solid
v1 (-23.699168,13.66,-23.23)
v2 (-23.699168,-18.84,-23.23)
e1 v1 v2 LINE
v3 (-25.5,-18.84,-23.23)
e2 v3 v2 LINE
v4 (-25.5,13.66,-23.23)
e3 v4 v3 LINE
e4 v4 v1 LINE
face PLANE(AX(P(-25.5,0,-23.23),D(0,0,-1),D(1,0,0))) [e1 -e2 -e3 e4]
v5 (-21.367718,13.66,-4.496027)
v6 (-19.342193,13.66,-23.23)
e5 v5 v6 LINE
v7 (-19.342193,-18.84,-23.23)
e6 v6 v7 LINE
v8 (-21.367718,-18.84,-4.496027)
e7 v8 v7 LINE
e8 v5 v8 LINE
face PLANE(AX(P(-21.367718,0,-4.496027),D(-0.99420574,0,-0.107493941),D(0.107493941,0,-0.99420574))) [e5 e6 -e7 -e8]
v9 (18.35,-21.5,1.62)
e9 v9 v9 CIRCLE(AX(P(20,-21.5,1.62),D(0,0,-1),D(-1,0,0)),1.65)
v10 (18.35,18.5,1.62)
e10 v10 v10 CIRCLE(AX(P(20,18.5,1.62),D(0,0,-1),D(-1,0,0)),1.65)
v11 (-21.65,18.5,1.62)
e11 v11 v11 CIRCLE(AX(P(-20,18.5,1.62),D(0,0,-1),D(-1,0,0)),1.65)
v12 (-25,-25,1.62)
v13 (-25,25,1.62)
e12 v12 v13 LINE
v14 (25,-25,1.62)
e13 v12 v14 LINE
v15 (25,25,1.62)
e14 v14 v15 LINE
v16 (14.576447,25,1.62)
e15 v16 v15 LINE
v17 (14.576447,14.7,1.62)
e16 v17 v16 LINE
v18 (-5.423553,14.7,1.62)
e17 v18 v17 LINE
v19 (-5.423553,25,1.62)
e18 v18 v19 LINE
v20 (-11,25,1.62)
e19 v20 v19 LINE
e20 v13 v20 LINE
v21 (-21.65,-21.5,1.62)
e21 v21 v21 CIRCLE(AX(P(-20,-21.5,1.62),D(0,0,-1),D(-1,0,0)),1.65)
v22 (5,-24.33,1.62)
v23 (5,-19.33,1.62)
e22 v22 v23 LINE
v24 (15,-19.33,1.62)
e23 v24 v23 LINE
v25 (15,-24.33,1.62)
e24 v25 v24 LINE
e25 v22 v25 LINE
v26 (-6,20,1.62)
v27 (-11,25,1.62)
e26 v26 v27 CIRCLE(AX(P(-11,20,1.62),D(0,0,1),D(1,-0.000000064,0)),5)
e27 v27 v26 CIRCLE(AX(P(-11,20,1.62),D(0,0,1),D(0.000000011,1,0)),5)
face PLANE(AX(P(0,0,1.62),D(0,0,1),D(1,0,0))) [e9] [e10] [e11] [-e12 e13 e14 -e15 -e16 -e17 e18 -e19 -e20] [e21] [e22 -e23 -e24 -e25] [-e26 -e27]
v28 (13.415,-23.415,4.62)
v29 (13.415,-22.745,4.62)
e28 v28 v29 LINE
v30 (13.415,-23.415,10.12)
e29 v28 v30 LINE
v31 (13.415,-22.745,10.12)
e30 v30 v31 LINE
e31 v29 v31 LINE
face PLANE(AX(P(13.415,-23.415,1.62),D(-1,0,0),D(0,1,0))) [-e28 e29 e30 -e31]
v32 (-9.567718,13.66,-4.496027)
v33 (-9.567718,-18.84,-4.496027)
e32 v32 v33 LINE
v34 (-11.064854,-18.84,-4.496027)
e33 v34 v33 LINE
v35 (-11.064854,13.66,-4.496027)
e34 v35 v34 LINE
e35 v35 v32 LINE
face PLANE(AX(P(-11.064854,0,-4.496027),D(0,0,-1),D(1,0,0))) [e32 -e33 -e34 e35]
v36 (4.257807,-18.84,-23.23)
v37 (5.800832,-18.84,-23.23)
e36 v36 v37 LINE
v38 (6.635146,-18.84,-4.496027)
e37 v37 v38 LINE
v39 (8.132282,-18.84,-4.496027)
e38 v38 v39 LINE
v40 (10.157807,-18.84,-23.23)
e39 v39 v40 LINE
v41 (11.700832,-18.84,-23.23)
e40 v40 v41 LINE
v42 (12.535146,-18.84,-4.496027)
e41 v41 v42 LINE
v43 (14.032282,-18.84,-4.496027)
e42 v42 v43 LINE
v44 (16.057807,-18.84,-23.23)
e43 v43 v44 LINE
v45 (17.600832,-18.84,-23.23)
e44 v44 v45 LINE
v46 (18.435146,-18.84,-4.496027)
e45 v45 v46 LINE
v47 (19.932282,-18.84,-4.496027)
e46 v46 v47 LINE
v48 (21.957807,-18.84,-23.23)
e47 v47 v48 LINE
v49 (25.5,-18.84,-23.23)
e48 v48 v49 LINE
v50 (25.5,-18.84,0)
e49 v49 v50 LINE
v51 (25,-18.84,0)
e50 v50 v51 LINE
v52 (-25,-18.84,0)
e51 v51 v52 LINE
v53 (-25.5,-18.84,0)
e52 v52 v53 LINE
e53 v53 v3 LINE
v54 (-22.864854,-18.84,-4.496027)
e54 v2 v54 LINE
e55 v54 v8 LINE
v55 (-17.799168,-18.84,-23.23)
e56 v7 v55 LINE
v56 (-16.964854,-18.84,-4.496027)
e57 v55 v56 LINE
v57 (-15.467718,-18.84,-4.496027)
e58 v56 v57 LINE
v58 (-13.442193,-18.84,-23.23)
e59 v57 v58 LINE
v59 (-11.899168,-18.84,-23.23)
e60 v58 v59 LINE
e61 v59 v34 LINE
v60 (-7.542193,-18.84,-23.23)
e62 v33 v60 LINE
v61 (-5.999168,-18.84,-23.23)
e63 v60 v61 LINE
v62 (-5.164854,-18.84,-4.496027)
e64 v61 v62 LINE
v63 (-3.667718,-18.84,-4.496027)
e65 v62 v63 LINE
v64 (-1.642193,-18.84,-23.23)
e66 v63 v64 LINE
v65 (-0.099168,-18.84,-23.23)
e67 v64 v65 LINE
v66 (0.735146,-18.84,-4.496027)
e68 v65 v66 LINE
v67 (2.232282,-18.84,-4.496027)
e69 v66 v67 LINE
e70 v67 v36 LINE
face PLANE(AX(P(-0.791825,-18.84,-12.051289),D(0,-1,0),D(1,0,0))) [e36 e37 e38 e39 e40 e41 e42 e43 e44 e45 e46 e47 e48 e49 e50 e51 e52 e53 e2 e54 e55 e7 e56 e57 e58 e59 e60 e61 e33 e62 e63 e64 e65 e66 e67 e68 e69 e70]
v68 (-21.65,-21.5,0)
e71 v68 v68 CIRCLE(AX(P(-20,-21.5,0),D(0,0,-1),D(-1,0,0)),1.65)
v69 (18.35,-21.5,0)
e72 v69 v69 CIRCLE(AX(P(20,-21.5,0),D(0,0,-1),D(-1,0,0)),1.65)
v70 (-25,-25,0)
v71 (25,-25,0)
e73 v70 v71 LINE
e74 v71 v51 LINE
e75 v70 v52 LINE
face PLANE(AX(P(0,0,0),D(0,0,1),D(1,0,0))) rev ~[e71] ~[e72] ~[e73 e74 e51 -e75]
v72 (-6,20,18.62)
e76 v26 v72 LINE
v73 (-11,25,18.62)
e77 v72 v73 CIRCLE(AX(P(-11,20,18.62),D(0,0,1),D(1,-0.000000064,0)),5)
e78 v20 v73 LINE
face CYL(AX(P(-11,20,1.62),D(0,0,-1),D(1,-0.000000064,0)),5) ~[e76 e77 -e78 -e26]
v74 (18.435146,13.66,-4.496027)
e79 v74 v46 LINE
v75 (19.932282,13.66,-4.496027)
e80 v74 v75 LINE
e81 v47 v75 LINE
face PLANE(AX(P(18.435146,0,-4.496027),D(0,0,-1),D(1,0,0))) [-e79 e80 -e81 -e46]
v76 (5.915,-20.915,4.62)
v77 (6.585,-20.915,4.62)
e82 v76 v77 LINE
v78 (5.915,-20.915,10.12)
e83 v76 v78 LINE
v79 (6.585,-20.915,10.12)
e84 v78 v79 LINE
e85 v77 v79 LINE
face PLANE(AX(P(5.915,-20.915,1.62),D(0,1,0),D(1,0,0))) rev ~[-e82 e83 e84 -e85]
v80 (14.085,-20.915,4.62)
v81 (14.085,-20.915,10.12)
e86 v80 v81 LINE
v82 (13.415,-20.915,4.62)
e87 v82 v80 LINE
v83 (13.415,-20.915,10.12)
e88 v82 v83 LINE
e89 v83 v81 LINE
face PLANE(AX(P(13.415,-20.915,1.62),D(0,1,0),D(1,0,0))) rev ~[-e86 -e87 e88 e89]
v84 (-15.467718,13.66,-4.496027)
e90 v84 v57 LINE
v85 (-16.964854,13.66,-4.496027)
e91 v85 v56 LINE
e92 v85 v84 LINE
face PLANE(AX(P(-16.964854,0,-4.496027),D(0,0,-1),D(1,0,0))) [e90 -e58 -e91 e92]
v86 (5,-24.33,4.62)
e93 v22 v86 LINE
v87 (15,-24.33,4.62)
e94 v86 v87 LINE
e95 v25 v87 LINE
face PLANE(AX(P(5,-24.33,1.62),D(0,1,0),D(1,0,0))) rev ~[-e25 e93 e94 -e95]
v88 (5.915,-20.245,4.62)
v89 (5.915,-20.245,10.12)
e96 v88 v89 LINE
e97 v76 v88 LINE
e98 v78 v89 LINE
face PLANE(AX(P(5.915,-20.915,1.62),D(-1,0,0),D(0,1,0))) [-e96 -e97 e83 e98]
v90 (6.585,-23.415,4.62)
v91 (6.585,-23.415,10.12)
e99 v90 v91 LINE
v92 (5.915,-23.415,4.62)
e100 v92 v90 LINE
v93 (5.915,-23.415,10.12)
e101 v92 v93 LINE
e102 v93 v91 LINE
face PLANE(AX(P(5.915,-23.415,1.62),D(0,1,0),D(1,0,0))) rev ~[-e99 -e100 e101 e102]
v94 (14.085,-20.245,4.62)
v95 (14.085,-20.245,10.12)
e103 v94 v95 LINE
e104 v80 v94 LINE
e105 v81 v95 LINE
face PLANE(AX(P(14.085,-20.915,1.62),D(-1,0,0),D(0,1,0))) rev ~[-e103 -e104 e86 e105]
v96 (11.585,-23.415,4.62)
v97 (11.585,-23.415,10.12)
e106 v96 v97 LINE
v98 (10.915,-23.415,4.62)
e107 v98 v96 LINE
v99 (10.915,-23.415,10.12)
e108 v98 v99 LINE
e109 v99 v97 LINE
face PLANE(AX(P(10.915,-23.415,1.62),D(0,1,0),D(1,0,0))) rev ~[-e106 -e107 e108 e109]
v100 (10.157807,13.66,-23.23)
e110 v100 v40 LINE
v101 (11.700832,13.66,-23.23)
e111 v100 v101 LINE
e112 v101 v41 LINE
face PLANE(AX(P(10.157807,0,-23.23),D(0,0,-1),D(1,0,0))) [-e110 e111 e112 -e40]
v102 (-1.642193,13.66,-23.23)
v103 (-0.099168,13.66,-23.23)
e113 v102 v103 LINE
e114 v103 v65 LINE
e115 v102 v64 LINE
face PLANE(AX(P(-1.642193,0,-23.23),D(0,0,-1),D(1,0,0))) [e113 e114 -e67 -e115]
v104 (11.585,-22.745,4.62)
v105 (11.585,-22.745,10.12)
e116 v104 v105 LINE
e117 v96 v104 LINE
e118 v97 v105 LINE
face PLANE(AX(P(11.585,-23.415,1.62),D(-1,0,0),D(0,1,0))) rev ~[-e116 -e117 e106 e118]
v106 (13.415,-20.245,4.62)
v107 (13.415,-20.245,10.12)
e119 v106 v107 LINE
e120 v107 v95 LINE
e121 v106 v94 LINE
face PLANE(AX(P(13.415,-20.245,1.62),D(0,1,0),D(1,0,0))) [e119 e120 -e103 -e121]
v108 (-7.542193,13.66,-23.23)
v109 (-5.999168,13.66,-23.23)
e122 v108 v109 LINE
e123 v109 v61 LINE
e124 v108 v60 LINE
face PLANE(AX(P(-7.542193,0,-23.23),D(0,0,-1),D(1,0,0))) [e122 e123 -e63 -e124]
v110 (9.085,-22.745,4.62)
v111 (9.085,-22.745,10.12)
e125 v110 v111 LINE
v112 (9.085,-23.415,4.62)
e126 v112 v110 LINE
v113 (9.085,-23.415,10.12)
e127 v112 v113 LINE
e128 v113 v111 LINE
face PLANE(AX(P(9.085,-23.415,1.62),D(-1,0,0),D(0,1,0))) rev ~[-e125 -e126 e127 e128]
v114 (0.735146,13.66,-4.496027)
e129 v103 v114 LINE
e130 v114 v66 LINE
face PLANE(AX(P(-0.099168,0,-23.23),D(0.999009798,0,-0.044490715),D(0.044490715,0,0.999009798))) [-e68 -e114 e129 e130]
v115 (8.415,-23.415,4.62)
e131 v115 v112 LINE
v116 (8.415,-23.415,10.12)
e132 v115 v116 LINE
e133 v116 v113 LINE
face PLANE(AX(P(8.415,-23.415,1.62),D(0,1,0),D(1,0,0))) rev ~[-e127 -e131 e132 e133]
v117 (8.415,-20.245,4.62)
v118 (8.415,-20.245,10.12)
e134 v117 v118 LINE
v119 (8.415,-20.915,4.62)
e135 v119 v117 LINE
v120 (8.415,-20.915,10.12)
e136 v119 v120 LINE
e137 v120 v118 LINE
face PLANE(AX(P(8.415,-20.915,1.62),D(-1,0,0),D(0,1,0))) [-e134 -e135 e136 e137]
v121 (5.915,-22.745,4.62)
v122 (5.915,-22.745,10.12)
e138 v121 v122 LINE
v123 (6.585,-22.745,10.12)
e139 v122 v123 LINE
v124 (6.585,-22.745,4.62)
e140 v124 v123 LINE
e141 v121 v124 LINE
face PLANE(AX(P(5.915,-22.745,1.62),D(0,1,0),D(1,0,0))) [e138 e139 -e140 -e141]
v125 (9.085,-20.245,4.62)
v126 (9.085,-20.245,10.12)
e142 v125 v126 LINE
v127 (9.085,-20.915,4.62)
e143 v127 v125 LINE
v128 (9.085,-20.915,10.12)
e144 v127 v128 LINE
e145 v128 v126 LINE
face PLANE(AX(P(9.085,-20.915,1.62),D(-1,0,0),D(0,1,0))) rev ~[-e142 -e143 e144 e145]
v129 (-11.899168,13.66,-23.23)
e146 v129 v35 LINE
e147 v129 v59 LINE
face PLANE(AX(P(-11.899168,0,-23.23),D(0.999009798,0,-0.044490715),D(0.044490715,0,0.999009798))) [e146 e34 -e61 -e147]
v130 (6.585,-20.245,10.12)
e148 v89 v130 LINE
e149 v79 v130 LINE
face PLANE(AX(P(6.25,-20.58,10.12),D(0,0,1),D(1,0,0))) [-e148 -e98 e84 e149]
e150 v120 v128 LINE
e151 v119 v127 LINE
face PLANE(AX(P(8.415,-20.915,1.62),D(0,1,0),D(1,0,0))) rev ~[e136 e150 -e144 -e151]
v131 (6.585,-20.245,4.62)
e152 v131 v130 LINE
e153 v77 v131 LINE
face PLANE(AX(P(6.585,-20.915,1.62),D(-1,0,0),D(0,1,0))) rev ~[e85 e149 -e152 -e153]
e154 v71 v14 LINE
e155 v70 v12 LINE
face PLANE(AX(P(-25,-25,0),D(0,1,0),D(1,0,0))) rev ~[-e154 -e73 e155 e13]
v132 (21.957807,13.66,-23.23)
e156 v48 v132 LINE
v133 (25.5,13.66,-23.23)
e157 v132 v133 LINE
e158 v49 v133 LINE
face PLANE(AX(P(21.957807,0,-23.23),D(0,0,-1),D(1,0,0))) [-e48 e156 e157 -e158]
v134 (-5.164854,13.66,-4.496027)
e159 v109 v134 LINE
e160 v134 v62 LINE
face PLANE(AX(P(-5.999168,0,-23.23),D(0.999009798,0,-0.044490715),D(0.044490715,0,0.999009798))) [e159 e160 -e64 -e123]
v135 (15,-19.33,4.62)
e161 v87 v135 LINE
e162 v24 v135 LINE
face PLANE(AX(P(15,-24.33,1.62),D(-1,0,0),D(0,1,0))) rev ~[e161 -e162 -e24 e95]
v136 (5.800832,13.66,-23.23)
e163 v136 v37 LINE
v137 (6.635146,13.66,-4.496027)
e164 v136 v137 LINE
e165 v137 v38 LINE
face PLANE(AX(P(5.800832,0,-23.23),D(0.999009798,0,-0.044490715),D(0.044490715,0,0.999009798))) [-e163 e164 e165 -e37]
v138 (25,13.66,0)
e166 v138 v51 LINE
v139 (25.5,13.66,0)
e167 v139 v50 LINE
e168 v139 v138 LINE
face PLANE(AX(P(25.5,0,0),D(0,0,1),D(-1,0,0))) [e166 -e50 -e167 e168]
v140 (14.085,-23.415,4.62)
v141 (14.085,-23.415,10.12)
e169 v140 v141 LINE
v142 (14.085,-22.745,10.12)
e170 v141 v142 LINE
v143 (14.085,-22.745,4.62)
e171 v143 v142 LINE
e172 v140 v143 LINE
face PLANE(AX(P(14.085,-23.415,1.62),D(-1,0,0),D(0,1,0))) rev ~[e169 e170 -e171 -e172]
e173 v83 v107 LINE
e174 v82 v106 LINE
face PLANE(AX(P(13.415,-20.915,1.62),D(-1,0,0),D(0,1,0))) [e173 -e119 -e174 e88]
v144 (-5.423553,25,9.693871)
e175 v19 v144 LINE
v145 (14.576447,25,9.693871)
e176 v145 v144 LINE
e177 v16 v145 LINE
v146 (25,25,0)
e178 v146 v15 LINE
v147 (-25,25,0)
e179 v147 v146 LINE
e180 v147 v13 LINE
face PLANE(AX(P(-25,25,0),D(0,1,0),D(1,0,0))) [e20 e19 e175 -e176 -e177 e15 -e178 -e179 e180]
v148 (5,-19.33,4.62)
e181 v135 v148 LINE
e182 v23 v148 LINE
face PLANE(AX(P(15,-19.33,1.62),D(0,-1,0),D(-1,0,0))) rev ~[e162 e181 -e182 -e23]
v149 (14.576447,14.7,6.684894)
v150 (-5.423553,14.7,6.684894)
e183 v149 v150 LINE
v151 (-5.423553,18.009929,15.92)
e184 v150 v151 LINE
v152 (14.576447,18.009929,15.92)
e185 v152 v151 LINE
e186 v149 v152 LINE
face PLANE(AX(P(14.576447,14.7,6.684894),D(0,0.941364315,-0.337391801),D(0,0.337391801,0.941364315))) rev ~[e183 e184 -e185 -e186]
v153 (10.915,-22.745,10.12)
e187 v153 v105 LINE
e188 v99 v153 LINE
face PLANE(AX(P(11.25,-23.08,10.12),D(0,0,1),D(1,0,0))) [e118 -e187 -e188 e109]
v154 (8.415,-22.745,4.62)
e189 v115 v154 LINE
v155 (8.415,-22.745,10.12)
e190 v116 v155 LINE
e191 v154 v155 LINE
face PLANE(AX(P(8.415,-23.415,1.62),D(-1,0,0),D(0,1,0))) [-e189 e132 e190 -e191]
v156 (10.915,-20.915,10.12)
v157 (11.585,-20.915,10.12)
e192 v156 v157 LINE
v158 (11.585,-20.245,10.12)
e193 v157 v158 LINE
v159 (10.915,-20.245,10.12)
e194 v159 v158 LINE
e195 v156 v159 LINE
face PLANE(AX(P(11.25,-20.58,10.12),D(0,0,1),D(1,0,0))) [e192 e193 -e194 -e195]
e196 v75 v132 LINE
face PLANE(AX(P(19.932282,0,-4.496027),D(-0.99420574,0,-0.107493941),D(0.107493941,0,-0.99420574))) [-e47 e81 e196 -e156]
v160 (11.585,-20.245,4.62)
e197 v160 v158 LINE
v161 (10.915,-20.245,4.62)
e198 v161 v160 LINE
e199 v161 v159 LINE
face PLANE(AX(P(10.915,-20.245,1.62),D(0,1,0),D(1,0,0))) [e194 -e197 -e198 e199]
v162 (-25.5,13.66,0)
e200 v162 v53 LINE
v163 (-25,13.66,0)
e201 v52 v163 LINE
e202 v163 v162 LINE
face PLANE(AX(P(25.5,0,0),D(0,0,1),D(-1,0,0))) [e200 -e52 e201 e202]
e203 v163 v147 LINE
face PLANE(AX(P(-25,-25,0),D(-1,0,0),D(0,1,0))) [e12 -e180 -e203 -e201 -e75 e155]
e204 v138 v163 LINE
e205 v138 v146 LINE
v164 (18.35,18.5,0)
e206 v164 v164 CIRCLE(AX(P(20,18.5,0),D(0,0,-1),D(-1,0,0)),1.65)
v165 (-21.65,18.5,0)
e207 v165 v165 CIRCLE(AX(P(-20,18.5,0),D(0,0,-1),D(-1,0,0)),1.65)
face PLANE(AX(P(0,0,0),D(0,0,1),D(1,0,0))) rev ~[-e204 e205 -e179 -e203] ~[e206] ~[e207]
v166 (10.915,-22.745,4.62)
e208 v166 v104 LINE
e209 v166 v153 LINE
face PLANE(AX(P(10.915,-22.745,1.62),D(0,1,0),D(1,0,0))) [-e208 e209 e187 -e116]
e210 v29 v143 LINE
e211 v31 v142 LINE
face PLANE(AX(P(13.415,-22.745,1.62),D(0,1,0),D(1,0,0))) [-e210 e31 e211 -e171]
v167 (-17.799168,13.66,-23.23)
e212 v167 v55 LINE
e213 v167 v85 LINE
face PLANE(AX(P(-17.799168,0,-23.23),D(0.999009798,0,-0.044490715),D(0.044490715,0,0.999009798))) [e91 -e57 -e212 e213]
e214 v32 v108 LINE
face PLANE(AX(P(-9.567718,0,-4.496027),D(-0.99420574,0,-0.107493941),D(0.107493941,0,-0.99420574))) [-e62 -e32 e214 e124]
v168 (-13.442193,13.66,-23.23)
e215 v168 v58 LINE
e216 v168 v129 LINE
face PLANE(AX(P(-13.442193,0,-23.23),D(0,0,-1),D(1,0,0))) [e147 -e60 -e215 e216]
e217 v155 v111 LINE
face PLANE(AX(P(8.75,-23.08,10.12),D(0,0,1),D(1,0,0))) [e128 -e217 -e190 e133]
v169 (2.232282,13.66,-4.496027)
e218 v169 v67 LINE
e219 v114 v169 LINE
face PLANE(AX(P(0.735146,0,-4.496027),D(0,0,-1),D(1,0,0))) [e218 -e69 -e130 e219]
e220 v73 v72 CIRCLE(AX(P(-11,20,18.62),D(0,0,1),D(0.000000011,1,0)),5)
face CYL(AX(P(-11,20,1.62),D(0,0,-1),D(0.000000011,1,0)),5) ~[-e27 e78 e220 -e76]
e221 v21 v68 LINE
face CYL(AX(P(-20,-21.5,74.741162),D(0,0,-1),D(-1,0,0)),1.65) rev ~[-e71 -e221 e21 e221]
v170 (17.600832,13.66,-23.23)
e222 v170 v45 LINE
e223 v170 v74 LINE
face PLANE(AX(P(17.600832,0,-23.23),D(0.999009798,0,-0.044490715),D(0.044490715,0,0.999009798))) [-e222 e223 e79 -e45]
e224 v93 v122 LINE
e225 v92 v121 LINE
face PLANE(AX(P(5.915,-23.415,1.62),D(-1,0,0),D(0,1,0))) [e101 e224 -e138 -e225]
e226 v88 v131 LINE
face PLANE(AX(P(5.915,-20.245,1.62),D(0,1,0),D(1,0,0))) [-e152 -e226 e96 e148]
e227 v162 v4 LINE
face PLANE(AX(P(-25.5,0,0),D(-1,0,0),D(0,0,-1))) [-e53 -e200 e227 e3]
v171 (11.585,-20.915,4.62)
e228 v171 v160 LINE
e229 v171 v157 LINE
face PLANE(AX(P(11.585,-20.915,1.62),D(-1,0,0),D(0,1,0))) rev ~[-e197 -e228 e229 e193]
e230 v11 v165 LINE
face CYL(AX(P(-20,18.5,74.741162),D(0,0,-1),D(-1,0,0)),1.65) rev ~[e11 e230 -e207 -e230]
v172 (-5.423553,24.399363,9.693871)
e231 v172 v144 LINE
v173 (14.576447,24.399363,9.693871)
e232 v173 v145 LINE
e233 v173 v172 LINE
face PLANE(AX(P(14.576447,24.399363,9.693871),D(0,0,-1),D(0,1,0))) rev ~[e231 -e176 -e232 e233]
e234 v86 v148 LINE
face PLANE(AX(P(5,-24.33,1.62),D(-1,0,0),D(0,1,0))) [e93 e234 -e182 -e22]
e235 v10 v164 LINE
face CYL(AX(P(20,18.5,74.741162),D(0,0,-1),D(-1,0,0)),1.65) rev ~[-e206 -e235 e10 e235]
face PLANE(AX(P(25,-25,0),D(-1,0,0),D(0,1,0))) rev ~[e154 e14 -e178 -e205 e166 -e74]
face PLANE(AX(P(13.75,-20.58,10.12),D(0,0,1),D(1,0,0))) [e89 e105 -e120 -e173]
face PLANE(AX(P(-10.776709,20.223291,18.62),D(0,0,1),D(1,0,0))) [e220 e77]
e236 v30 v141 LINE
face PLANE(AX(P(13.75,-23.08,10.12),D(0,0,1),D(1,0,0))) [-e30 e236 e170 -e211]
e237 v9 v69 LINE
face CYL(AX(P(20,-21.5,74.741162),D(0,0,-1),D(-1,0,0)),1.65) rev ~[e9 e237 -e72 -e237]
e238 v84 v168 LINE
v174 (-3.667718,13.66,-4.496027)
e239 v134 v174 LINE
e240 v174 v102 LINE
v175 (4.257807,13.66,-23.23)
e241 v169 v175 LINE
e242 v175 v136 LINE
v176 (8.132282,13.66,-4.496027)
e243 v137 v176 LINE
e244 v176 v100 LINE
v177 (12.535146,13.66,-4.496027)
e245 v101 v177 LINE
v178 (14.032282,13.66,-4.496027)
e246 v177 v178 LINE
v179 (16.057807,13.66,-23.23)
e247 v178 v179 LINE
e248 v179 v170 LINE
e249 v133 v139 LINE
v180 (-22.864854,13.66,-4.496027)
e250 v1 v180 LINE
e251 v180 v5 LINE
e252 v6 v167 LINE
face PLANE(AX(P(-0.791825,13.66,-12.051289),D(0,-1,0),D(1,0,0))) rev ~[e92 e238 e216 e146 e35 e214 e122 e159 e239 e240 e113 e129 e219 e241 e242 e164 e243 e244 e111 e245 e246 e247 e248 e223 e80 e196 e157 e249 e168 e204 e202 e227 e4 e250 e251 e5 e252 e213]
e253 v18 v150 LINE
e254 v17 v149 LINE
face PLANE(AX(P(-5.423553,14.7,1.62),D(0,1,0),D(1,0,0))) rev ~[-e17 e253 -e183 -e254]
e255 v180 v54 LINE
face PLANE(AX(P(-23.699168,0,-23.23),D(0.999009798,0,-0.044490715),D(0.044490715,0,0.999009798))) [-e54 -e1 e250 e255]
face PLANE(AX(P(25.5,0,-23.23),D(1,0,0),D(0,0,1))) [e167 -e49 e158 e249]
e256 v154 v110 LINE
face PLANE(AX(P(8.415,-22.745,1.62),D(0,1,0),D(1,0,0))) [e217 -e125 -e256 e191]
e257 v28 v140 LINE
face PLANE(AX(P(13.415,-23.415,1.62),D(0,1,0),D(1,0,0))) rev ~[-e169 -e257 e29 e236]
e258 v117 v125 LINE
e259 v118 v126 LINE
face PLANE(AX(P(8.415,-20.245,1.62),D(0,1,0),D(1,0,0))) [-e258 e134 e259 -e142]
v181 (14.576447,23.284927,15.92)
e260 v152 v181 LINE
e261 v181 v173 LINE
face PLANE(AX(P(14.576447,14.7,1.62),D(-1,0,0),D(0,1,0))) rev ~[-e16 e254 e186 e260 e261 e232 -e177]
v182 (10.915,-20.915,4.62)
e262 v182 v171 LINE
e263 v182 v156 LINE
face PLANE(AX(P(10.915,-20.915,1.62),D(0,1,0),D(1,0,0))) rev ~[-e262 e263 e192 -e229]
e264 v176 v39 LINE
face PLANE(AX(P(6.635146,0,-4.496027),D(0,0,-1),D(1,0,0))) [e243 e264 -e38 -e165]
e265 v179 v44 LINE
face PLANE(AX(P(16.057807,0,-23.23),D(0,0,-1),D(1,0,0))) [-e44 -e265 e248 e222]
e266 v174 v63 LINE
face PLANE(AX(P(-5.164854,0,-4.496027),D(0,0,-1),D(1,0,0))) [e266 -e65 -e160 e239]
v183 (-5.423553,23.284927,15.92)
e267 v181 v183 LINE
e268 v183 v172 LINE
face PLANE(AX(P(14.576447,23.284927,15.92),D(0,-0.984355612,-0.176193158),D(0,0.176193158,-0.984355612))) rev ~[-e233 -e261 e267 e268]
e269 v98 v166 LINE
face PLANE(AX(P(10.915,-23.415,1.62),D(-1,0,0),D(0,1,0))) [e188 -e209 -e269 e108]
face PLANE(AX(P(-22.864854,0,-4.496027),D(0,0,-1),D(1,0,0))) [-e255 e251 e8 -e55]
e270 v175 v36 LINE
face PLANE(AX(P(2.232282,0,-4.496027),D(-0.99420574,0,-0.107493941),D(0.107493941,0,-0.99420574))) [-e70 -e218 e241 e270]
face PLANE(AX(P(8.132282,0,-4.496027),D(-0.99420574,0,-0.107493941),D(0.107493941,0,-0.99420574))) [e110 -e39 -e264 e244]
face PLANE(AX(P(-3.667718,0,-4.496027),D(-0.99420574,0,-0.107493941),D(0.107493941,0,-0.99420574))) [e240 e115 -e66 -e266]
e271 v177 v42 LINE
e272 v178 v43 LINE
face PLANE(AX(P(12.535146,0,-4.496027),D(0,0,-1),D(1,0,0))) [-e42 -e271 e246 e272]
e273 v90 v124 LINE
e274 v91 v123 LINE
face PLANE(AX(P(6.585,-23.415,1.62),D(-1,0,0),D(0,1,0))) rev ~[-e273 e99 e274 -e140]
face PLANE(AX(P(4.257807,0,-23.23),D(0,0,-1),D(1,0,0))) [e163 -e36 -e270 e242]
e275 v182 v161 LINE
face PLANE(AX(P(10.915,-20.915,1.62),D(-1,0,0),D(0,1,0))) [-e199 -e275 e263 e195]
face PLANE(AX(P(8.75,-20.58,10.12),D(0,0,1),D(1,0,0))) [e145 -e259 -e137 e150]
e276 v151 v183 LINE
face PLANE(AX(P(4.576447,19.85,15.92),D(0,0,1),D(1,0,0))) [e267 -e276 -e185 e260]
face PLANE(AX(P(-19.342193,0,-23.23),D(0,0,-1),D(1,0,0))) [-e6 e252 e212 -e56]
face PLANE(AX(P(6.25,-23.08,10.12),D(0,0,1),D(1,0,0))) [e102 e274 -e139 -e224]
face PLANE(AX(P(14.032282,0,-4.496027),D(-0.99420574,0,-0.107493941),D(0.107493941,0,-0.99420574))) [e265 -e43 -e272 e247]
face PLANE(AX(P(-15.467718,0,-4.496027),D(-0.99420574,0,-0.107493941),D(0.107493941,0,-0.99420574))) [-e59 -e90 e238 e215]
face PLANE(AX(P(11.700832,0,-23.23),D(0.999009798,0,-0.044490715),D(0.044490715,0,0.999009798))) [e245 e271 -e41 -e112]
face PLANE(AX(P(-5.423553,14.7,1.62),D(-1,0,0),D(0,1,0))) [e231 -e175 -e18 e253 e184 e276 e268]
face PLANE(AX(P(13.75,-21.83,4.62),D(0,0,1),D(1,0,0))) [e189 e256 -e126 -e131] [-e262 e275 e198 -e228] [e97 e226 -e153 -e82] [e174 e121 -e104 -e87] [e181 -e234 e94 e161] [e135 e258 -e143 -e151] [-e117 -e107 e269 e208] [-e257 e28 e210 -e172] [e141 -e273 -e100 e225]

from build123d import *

# Parameters (mm, degrees)
F0_W          = 50
F0_H          = 50
F1_DEPTH      = 1.62
F3_DEPTH      = 17
F2_W          = 20
F2_H          = 10.3
F4_DEPTH      = 14.3
F2_W_2        = 2.5
F2_H_2        = 5
F2_W_3        = 0.67
F2_H_3        = 0.67
F5_DEPTH      = 3
F6_DEPTH      = 8.5
F7_D          = 3.3
F9_DEPTH      = 18.84
F9_DEPTH_BACK = 13.66
F11_DEPTH     = 20


with BuildPart() as f1:
    # F0 (on Top) → F1 (new body)
    with BuildSketch(Plane.XY):
        Rectangle(F0_W, F0_H)
    extrude(amount=F1_DEPTH)

    # F2 (on face) → F3 (join)
    with BuildSketch(Plane.XY.offset(1.62)):
        with BuildLine():
            ThreePointArc((-6, 20), (-7.464466, 23.535534), (-11, 25))
            ThreePointArc((-11, 25), (-14.535534, 16.464466), (-6, 20))
        make_face()
    extrude(amount=F3_DEPTH)

    # F2 (on face) → F4 (join)
    with BuildSketch(Plane.XY.offset(1.62)):
        with Locations((4.576447, 19.85)):
            Rectangle(F2_W, F2_H)
    extrude(amount=F4_DEPTH)

    # F2 (on face) → F5 (join)
    with BuildSketch(Plane.XY.offset(1.62)):
        with Locations((13.75, -21.83)):
            Rectangle(F2_W_2, F2_H_2)
        with Locations((13.75, -23.08)):
            Rectangle(F2_W_3, F2_H_3, mode=Mode.SUBTRACT)
        with Locations((13.75, -20.58)):
            Rectangle(F2_W_3, F2_H_3, mode=Mode.SUBTRACT)
        with Locations((11.25, -21.83)):
            Rectangle(F2_W_2, F2_H_2)
        with Locations((11.25, -23.08)):
            Rectangle(F2_W_3, F2_H_3, mode=Mode.SUBTRACT)
        with Locations((11.25, -20.58)):
            Rectangle(F2_W_3, F2_H_3, mode=Mode.SUBTRACT)
        with Locations((8.75, -21.83)):
            Rectangle(F2_W_2, F2_H_2)
        with Locations((8.75, -23.08)):
            Rectangle(F2_W_3, F2_H_3, mode=Mode.SUBTRACT)
        with Locations((8.75, -20.58)):
            Rectangle(F2_W_3, F2_H_3, mode=Mode.SUBTRACT)
        with Locations((6.25, -21.83)):
            Rectangle(F2_W_2, F2_H_2)
        with Locations((6.25, -23.08)):
            Rectangle(F2_W_3, F2_H_3, mode=Mode.SUBTRACT)
        with Locations((6.25, -20.58)):
            Rectangle(F2_W_3, F2_H_3, mode=Mode.SUBTRACT)
    extrude(amount=F5_DEPTH)

    # F2 (on face) → F6 (join)
    with BuildSketch(Plane.XY.offset(1.62)):
        with Locations((6.25, -20.58)):
            Rectangle(F2_W_3, F2_H_3)
        with Locations((6.25, -23.08)):
            Rectangle(F2_W_3, F2_H_3)
        with Locations((8.75, -23.08)):
            Rectangle(F2_W_3, F2_H_3)
        with Locations((8.75, -20.58)):
            Rectangle(F2_W_3, F2_H_3)
        with Locations((11.25, -20.58)):
            Rectangle(F2_W_3, F2_H_3)
        with Locations((11.25, -23.08)):
            Rectangle(F2_W_3, F2_H_3)
        with Locations((13.75, -23.08)):
            Rectangle(F2_W_3, F2_H_3)
        with Locations((13.75, -20.58)):
            Rectangle(F2_W_3, F2_H_3)
    extrude(amount=F6_DEPTH)

    # F7 (through all)
    with Locations(Plane.XY.offset(1.62)):
        with Locations((-20, 18.5), (-20, -21.5), (20, -21.5), (20, 18.5)):
            Hole(F7_D / 2)

    # F8 (on Front) → F9 (join, two sides)
    with BuildSketch(Plane.XZ) as f9_sk:
        Polygon((25.5, -23.23), (25.5, 0), (-25.5, 0), (-25.5, -23.23), (-23.699168, -23.23), (-22.864854, -4.496027), (-21.367718, -4.496027), (-19.342193, -23.23), (-17.799168, -23.23), (-16.964854, -4.496027), (-15.467718, -4.496027), (-13.442193, -23.23), (-11.899168, -23.23), (-11.064854, -4.496027), (-9.567718, -4.496027), (-7.542193, -23.23), (-5.999168, -23.23), (-5.164854, -4.496027), (-3.667718, -4.496027), (-1.642193, -23.23), (-0.099168, -23.23), (0.735146, -4.496027), (2.232282, -4.496027), (4.257807, -23.23), (5.800832, -23.23), (6.635146, -4.496027), (8.132282, -4.496027), (10.157807, -23.23), (11.700832, -23.23), (12.535146, -4.496027), (14.032282, -4.496027), (16.057807, -23.23), (17.600832, -23.23), (18.435146, -4.496027), (19.932282, -4.496027), (21.957807, -23.23), align=None)
    extrude(amount=F9_DEPTH)
    extrude(f9_sk.sketch, amount=-F9_DEPTH_BACK)

    # F10 (on face) → F11 (cut)
    with BuildSketch(Plane.YZ.offset(14.576447)):
        Polygon((14.7, 15.92), (14.7, 6.684894), (18.009929, 15.92), align=None)
        Polygon((25, 15.92), (23.284927, 15.92), (24.399363, 9.693871), (25, 9.693871), align=None)
    extrude(amount=-F11_DEPTH, mode=Mode.SUBTRACT)


solid = f1.part
